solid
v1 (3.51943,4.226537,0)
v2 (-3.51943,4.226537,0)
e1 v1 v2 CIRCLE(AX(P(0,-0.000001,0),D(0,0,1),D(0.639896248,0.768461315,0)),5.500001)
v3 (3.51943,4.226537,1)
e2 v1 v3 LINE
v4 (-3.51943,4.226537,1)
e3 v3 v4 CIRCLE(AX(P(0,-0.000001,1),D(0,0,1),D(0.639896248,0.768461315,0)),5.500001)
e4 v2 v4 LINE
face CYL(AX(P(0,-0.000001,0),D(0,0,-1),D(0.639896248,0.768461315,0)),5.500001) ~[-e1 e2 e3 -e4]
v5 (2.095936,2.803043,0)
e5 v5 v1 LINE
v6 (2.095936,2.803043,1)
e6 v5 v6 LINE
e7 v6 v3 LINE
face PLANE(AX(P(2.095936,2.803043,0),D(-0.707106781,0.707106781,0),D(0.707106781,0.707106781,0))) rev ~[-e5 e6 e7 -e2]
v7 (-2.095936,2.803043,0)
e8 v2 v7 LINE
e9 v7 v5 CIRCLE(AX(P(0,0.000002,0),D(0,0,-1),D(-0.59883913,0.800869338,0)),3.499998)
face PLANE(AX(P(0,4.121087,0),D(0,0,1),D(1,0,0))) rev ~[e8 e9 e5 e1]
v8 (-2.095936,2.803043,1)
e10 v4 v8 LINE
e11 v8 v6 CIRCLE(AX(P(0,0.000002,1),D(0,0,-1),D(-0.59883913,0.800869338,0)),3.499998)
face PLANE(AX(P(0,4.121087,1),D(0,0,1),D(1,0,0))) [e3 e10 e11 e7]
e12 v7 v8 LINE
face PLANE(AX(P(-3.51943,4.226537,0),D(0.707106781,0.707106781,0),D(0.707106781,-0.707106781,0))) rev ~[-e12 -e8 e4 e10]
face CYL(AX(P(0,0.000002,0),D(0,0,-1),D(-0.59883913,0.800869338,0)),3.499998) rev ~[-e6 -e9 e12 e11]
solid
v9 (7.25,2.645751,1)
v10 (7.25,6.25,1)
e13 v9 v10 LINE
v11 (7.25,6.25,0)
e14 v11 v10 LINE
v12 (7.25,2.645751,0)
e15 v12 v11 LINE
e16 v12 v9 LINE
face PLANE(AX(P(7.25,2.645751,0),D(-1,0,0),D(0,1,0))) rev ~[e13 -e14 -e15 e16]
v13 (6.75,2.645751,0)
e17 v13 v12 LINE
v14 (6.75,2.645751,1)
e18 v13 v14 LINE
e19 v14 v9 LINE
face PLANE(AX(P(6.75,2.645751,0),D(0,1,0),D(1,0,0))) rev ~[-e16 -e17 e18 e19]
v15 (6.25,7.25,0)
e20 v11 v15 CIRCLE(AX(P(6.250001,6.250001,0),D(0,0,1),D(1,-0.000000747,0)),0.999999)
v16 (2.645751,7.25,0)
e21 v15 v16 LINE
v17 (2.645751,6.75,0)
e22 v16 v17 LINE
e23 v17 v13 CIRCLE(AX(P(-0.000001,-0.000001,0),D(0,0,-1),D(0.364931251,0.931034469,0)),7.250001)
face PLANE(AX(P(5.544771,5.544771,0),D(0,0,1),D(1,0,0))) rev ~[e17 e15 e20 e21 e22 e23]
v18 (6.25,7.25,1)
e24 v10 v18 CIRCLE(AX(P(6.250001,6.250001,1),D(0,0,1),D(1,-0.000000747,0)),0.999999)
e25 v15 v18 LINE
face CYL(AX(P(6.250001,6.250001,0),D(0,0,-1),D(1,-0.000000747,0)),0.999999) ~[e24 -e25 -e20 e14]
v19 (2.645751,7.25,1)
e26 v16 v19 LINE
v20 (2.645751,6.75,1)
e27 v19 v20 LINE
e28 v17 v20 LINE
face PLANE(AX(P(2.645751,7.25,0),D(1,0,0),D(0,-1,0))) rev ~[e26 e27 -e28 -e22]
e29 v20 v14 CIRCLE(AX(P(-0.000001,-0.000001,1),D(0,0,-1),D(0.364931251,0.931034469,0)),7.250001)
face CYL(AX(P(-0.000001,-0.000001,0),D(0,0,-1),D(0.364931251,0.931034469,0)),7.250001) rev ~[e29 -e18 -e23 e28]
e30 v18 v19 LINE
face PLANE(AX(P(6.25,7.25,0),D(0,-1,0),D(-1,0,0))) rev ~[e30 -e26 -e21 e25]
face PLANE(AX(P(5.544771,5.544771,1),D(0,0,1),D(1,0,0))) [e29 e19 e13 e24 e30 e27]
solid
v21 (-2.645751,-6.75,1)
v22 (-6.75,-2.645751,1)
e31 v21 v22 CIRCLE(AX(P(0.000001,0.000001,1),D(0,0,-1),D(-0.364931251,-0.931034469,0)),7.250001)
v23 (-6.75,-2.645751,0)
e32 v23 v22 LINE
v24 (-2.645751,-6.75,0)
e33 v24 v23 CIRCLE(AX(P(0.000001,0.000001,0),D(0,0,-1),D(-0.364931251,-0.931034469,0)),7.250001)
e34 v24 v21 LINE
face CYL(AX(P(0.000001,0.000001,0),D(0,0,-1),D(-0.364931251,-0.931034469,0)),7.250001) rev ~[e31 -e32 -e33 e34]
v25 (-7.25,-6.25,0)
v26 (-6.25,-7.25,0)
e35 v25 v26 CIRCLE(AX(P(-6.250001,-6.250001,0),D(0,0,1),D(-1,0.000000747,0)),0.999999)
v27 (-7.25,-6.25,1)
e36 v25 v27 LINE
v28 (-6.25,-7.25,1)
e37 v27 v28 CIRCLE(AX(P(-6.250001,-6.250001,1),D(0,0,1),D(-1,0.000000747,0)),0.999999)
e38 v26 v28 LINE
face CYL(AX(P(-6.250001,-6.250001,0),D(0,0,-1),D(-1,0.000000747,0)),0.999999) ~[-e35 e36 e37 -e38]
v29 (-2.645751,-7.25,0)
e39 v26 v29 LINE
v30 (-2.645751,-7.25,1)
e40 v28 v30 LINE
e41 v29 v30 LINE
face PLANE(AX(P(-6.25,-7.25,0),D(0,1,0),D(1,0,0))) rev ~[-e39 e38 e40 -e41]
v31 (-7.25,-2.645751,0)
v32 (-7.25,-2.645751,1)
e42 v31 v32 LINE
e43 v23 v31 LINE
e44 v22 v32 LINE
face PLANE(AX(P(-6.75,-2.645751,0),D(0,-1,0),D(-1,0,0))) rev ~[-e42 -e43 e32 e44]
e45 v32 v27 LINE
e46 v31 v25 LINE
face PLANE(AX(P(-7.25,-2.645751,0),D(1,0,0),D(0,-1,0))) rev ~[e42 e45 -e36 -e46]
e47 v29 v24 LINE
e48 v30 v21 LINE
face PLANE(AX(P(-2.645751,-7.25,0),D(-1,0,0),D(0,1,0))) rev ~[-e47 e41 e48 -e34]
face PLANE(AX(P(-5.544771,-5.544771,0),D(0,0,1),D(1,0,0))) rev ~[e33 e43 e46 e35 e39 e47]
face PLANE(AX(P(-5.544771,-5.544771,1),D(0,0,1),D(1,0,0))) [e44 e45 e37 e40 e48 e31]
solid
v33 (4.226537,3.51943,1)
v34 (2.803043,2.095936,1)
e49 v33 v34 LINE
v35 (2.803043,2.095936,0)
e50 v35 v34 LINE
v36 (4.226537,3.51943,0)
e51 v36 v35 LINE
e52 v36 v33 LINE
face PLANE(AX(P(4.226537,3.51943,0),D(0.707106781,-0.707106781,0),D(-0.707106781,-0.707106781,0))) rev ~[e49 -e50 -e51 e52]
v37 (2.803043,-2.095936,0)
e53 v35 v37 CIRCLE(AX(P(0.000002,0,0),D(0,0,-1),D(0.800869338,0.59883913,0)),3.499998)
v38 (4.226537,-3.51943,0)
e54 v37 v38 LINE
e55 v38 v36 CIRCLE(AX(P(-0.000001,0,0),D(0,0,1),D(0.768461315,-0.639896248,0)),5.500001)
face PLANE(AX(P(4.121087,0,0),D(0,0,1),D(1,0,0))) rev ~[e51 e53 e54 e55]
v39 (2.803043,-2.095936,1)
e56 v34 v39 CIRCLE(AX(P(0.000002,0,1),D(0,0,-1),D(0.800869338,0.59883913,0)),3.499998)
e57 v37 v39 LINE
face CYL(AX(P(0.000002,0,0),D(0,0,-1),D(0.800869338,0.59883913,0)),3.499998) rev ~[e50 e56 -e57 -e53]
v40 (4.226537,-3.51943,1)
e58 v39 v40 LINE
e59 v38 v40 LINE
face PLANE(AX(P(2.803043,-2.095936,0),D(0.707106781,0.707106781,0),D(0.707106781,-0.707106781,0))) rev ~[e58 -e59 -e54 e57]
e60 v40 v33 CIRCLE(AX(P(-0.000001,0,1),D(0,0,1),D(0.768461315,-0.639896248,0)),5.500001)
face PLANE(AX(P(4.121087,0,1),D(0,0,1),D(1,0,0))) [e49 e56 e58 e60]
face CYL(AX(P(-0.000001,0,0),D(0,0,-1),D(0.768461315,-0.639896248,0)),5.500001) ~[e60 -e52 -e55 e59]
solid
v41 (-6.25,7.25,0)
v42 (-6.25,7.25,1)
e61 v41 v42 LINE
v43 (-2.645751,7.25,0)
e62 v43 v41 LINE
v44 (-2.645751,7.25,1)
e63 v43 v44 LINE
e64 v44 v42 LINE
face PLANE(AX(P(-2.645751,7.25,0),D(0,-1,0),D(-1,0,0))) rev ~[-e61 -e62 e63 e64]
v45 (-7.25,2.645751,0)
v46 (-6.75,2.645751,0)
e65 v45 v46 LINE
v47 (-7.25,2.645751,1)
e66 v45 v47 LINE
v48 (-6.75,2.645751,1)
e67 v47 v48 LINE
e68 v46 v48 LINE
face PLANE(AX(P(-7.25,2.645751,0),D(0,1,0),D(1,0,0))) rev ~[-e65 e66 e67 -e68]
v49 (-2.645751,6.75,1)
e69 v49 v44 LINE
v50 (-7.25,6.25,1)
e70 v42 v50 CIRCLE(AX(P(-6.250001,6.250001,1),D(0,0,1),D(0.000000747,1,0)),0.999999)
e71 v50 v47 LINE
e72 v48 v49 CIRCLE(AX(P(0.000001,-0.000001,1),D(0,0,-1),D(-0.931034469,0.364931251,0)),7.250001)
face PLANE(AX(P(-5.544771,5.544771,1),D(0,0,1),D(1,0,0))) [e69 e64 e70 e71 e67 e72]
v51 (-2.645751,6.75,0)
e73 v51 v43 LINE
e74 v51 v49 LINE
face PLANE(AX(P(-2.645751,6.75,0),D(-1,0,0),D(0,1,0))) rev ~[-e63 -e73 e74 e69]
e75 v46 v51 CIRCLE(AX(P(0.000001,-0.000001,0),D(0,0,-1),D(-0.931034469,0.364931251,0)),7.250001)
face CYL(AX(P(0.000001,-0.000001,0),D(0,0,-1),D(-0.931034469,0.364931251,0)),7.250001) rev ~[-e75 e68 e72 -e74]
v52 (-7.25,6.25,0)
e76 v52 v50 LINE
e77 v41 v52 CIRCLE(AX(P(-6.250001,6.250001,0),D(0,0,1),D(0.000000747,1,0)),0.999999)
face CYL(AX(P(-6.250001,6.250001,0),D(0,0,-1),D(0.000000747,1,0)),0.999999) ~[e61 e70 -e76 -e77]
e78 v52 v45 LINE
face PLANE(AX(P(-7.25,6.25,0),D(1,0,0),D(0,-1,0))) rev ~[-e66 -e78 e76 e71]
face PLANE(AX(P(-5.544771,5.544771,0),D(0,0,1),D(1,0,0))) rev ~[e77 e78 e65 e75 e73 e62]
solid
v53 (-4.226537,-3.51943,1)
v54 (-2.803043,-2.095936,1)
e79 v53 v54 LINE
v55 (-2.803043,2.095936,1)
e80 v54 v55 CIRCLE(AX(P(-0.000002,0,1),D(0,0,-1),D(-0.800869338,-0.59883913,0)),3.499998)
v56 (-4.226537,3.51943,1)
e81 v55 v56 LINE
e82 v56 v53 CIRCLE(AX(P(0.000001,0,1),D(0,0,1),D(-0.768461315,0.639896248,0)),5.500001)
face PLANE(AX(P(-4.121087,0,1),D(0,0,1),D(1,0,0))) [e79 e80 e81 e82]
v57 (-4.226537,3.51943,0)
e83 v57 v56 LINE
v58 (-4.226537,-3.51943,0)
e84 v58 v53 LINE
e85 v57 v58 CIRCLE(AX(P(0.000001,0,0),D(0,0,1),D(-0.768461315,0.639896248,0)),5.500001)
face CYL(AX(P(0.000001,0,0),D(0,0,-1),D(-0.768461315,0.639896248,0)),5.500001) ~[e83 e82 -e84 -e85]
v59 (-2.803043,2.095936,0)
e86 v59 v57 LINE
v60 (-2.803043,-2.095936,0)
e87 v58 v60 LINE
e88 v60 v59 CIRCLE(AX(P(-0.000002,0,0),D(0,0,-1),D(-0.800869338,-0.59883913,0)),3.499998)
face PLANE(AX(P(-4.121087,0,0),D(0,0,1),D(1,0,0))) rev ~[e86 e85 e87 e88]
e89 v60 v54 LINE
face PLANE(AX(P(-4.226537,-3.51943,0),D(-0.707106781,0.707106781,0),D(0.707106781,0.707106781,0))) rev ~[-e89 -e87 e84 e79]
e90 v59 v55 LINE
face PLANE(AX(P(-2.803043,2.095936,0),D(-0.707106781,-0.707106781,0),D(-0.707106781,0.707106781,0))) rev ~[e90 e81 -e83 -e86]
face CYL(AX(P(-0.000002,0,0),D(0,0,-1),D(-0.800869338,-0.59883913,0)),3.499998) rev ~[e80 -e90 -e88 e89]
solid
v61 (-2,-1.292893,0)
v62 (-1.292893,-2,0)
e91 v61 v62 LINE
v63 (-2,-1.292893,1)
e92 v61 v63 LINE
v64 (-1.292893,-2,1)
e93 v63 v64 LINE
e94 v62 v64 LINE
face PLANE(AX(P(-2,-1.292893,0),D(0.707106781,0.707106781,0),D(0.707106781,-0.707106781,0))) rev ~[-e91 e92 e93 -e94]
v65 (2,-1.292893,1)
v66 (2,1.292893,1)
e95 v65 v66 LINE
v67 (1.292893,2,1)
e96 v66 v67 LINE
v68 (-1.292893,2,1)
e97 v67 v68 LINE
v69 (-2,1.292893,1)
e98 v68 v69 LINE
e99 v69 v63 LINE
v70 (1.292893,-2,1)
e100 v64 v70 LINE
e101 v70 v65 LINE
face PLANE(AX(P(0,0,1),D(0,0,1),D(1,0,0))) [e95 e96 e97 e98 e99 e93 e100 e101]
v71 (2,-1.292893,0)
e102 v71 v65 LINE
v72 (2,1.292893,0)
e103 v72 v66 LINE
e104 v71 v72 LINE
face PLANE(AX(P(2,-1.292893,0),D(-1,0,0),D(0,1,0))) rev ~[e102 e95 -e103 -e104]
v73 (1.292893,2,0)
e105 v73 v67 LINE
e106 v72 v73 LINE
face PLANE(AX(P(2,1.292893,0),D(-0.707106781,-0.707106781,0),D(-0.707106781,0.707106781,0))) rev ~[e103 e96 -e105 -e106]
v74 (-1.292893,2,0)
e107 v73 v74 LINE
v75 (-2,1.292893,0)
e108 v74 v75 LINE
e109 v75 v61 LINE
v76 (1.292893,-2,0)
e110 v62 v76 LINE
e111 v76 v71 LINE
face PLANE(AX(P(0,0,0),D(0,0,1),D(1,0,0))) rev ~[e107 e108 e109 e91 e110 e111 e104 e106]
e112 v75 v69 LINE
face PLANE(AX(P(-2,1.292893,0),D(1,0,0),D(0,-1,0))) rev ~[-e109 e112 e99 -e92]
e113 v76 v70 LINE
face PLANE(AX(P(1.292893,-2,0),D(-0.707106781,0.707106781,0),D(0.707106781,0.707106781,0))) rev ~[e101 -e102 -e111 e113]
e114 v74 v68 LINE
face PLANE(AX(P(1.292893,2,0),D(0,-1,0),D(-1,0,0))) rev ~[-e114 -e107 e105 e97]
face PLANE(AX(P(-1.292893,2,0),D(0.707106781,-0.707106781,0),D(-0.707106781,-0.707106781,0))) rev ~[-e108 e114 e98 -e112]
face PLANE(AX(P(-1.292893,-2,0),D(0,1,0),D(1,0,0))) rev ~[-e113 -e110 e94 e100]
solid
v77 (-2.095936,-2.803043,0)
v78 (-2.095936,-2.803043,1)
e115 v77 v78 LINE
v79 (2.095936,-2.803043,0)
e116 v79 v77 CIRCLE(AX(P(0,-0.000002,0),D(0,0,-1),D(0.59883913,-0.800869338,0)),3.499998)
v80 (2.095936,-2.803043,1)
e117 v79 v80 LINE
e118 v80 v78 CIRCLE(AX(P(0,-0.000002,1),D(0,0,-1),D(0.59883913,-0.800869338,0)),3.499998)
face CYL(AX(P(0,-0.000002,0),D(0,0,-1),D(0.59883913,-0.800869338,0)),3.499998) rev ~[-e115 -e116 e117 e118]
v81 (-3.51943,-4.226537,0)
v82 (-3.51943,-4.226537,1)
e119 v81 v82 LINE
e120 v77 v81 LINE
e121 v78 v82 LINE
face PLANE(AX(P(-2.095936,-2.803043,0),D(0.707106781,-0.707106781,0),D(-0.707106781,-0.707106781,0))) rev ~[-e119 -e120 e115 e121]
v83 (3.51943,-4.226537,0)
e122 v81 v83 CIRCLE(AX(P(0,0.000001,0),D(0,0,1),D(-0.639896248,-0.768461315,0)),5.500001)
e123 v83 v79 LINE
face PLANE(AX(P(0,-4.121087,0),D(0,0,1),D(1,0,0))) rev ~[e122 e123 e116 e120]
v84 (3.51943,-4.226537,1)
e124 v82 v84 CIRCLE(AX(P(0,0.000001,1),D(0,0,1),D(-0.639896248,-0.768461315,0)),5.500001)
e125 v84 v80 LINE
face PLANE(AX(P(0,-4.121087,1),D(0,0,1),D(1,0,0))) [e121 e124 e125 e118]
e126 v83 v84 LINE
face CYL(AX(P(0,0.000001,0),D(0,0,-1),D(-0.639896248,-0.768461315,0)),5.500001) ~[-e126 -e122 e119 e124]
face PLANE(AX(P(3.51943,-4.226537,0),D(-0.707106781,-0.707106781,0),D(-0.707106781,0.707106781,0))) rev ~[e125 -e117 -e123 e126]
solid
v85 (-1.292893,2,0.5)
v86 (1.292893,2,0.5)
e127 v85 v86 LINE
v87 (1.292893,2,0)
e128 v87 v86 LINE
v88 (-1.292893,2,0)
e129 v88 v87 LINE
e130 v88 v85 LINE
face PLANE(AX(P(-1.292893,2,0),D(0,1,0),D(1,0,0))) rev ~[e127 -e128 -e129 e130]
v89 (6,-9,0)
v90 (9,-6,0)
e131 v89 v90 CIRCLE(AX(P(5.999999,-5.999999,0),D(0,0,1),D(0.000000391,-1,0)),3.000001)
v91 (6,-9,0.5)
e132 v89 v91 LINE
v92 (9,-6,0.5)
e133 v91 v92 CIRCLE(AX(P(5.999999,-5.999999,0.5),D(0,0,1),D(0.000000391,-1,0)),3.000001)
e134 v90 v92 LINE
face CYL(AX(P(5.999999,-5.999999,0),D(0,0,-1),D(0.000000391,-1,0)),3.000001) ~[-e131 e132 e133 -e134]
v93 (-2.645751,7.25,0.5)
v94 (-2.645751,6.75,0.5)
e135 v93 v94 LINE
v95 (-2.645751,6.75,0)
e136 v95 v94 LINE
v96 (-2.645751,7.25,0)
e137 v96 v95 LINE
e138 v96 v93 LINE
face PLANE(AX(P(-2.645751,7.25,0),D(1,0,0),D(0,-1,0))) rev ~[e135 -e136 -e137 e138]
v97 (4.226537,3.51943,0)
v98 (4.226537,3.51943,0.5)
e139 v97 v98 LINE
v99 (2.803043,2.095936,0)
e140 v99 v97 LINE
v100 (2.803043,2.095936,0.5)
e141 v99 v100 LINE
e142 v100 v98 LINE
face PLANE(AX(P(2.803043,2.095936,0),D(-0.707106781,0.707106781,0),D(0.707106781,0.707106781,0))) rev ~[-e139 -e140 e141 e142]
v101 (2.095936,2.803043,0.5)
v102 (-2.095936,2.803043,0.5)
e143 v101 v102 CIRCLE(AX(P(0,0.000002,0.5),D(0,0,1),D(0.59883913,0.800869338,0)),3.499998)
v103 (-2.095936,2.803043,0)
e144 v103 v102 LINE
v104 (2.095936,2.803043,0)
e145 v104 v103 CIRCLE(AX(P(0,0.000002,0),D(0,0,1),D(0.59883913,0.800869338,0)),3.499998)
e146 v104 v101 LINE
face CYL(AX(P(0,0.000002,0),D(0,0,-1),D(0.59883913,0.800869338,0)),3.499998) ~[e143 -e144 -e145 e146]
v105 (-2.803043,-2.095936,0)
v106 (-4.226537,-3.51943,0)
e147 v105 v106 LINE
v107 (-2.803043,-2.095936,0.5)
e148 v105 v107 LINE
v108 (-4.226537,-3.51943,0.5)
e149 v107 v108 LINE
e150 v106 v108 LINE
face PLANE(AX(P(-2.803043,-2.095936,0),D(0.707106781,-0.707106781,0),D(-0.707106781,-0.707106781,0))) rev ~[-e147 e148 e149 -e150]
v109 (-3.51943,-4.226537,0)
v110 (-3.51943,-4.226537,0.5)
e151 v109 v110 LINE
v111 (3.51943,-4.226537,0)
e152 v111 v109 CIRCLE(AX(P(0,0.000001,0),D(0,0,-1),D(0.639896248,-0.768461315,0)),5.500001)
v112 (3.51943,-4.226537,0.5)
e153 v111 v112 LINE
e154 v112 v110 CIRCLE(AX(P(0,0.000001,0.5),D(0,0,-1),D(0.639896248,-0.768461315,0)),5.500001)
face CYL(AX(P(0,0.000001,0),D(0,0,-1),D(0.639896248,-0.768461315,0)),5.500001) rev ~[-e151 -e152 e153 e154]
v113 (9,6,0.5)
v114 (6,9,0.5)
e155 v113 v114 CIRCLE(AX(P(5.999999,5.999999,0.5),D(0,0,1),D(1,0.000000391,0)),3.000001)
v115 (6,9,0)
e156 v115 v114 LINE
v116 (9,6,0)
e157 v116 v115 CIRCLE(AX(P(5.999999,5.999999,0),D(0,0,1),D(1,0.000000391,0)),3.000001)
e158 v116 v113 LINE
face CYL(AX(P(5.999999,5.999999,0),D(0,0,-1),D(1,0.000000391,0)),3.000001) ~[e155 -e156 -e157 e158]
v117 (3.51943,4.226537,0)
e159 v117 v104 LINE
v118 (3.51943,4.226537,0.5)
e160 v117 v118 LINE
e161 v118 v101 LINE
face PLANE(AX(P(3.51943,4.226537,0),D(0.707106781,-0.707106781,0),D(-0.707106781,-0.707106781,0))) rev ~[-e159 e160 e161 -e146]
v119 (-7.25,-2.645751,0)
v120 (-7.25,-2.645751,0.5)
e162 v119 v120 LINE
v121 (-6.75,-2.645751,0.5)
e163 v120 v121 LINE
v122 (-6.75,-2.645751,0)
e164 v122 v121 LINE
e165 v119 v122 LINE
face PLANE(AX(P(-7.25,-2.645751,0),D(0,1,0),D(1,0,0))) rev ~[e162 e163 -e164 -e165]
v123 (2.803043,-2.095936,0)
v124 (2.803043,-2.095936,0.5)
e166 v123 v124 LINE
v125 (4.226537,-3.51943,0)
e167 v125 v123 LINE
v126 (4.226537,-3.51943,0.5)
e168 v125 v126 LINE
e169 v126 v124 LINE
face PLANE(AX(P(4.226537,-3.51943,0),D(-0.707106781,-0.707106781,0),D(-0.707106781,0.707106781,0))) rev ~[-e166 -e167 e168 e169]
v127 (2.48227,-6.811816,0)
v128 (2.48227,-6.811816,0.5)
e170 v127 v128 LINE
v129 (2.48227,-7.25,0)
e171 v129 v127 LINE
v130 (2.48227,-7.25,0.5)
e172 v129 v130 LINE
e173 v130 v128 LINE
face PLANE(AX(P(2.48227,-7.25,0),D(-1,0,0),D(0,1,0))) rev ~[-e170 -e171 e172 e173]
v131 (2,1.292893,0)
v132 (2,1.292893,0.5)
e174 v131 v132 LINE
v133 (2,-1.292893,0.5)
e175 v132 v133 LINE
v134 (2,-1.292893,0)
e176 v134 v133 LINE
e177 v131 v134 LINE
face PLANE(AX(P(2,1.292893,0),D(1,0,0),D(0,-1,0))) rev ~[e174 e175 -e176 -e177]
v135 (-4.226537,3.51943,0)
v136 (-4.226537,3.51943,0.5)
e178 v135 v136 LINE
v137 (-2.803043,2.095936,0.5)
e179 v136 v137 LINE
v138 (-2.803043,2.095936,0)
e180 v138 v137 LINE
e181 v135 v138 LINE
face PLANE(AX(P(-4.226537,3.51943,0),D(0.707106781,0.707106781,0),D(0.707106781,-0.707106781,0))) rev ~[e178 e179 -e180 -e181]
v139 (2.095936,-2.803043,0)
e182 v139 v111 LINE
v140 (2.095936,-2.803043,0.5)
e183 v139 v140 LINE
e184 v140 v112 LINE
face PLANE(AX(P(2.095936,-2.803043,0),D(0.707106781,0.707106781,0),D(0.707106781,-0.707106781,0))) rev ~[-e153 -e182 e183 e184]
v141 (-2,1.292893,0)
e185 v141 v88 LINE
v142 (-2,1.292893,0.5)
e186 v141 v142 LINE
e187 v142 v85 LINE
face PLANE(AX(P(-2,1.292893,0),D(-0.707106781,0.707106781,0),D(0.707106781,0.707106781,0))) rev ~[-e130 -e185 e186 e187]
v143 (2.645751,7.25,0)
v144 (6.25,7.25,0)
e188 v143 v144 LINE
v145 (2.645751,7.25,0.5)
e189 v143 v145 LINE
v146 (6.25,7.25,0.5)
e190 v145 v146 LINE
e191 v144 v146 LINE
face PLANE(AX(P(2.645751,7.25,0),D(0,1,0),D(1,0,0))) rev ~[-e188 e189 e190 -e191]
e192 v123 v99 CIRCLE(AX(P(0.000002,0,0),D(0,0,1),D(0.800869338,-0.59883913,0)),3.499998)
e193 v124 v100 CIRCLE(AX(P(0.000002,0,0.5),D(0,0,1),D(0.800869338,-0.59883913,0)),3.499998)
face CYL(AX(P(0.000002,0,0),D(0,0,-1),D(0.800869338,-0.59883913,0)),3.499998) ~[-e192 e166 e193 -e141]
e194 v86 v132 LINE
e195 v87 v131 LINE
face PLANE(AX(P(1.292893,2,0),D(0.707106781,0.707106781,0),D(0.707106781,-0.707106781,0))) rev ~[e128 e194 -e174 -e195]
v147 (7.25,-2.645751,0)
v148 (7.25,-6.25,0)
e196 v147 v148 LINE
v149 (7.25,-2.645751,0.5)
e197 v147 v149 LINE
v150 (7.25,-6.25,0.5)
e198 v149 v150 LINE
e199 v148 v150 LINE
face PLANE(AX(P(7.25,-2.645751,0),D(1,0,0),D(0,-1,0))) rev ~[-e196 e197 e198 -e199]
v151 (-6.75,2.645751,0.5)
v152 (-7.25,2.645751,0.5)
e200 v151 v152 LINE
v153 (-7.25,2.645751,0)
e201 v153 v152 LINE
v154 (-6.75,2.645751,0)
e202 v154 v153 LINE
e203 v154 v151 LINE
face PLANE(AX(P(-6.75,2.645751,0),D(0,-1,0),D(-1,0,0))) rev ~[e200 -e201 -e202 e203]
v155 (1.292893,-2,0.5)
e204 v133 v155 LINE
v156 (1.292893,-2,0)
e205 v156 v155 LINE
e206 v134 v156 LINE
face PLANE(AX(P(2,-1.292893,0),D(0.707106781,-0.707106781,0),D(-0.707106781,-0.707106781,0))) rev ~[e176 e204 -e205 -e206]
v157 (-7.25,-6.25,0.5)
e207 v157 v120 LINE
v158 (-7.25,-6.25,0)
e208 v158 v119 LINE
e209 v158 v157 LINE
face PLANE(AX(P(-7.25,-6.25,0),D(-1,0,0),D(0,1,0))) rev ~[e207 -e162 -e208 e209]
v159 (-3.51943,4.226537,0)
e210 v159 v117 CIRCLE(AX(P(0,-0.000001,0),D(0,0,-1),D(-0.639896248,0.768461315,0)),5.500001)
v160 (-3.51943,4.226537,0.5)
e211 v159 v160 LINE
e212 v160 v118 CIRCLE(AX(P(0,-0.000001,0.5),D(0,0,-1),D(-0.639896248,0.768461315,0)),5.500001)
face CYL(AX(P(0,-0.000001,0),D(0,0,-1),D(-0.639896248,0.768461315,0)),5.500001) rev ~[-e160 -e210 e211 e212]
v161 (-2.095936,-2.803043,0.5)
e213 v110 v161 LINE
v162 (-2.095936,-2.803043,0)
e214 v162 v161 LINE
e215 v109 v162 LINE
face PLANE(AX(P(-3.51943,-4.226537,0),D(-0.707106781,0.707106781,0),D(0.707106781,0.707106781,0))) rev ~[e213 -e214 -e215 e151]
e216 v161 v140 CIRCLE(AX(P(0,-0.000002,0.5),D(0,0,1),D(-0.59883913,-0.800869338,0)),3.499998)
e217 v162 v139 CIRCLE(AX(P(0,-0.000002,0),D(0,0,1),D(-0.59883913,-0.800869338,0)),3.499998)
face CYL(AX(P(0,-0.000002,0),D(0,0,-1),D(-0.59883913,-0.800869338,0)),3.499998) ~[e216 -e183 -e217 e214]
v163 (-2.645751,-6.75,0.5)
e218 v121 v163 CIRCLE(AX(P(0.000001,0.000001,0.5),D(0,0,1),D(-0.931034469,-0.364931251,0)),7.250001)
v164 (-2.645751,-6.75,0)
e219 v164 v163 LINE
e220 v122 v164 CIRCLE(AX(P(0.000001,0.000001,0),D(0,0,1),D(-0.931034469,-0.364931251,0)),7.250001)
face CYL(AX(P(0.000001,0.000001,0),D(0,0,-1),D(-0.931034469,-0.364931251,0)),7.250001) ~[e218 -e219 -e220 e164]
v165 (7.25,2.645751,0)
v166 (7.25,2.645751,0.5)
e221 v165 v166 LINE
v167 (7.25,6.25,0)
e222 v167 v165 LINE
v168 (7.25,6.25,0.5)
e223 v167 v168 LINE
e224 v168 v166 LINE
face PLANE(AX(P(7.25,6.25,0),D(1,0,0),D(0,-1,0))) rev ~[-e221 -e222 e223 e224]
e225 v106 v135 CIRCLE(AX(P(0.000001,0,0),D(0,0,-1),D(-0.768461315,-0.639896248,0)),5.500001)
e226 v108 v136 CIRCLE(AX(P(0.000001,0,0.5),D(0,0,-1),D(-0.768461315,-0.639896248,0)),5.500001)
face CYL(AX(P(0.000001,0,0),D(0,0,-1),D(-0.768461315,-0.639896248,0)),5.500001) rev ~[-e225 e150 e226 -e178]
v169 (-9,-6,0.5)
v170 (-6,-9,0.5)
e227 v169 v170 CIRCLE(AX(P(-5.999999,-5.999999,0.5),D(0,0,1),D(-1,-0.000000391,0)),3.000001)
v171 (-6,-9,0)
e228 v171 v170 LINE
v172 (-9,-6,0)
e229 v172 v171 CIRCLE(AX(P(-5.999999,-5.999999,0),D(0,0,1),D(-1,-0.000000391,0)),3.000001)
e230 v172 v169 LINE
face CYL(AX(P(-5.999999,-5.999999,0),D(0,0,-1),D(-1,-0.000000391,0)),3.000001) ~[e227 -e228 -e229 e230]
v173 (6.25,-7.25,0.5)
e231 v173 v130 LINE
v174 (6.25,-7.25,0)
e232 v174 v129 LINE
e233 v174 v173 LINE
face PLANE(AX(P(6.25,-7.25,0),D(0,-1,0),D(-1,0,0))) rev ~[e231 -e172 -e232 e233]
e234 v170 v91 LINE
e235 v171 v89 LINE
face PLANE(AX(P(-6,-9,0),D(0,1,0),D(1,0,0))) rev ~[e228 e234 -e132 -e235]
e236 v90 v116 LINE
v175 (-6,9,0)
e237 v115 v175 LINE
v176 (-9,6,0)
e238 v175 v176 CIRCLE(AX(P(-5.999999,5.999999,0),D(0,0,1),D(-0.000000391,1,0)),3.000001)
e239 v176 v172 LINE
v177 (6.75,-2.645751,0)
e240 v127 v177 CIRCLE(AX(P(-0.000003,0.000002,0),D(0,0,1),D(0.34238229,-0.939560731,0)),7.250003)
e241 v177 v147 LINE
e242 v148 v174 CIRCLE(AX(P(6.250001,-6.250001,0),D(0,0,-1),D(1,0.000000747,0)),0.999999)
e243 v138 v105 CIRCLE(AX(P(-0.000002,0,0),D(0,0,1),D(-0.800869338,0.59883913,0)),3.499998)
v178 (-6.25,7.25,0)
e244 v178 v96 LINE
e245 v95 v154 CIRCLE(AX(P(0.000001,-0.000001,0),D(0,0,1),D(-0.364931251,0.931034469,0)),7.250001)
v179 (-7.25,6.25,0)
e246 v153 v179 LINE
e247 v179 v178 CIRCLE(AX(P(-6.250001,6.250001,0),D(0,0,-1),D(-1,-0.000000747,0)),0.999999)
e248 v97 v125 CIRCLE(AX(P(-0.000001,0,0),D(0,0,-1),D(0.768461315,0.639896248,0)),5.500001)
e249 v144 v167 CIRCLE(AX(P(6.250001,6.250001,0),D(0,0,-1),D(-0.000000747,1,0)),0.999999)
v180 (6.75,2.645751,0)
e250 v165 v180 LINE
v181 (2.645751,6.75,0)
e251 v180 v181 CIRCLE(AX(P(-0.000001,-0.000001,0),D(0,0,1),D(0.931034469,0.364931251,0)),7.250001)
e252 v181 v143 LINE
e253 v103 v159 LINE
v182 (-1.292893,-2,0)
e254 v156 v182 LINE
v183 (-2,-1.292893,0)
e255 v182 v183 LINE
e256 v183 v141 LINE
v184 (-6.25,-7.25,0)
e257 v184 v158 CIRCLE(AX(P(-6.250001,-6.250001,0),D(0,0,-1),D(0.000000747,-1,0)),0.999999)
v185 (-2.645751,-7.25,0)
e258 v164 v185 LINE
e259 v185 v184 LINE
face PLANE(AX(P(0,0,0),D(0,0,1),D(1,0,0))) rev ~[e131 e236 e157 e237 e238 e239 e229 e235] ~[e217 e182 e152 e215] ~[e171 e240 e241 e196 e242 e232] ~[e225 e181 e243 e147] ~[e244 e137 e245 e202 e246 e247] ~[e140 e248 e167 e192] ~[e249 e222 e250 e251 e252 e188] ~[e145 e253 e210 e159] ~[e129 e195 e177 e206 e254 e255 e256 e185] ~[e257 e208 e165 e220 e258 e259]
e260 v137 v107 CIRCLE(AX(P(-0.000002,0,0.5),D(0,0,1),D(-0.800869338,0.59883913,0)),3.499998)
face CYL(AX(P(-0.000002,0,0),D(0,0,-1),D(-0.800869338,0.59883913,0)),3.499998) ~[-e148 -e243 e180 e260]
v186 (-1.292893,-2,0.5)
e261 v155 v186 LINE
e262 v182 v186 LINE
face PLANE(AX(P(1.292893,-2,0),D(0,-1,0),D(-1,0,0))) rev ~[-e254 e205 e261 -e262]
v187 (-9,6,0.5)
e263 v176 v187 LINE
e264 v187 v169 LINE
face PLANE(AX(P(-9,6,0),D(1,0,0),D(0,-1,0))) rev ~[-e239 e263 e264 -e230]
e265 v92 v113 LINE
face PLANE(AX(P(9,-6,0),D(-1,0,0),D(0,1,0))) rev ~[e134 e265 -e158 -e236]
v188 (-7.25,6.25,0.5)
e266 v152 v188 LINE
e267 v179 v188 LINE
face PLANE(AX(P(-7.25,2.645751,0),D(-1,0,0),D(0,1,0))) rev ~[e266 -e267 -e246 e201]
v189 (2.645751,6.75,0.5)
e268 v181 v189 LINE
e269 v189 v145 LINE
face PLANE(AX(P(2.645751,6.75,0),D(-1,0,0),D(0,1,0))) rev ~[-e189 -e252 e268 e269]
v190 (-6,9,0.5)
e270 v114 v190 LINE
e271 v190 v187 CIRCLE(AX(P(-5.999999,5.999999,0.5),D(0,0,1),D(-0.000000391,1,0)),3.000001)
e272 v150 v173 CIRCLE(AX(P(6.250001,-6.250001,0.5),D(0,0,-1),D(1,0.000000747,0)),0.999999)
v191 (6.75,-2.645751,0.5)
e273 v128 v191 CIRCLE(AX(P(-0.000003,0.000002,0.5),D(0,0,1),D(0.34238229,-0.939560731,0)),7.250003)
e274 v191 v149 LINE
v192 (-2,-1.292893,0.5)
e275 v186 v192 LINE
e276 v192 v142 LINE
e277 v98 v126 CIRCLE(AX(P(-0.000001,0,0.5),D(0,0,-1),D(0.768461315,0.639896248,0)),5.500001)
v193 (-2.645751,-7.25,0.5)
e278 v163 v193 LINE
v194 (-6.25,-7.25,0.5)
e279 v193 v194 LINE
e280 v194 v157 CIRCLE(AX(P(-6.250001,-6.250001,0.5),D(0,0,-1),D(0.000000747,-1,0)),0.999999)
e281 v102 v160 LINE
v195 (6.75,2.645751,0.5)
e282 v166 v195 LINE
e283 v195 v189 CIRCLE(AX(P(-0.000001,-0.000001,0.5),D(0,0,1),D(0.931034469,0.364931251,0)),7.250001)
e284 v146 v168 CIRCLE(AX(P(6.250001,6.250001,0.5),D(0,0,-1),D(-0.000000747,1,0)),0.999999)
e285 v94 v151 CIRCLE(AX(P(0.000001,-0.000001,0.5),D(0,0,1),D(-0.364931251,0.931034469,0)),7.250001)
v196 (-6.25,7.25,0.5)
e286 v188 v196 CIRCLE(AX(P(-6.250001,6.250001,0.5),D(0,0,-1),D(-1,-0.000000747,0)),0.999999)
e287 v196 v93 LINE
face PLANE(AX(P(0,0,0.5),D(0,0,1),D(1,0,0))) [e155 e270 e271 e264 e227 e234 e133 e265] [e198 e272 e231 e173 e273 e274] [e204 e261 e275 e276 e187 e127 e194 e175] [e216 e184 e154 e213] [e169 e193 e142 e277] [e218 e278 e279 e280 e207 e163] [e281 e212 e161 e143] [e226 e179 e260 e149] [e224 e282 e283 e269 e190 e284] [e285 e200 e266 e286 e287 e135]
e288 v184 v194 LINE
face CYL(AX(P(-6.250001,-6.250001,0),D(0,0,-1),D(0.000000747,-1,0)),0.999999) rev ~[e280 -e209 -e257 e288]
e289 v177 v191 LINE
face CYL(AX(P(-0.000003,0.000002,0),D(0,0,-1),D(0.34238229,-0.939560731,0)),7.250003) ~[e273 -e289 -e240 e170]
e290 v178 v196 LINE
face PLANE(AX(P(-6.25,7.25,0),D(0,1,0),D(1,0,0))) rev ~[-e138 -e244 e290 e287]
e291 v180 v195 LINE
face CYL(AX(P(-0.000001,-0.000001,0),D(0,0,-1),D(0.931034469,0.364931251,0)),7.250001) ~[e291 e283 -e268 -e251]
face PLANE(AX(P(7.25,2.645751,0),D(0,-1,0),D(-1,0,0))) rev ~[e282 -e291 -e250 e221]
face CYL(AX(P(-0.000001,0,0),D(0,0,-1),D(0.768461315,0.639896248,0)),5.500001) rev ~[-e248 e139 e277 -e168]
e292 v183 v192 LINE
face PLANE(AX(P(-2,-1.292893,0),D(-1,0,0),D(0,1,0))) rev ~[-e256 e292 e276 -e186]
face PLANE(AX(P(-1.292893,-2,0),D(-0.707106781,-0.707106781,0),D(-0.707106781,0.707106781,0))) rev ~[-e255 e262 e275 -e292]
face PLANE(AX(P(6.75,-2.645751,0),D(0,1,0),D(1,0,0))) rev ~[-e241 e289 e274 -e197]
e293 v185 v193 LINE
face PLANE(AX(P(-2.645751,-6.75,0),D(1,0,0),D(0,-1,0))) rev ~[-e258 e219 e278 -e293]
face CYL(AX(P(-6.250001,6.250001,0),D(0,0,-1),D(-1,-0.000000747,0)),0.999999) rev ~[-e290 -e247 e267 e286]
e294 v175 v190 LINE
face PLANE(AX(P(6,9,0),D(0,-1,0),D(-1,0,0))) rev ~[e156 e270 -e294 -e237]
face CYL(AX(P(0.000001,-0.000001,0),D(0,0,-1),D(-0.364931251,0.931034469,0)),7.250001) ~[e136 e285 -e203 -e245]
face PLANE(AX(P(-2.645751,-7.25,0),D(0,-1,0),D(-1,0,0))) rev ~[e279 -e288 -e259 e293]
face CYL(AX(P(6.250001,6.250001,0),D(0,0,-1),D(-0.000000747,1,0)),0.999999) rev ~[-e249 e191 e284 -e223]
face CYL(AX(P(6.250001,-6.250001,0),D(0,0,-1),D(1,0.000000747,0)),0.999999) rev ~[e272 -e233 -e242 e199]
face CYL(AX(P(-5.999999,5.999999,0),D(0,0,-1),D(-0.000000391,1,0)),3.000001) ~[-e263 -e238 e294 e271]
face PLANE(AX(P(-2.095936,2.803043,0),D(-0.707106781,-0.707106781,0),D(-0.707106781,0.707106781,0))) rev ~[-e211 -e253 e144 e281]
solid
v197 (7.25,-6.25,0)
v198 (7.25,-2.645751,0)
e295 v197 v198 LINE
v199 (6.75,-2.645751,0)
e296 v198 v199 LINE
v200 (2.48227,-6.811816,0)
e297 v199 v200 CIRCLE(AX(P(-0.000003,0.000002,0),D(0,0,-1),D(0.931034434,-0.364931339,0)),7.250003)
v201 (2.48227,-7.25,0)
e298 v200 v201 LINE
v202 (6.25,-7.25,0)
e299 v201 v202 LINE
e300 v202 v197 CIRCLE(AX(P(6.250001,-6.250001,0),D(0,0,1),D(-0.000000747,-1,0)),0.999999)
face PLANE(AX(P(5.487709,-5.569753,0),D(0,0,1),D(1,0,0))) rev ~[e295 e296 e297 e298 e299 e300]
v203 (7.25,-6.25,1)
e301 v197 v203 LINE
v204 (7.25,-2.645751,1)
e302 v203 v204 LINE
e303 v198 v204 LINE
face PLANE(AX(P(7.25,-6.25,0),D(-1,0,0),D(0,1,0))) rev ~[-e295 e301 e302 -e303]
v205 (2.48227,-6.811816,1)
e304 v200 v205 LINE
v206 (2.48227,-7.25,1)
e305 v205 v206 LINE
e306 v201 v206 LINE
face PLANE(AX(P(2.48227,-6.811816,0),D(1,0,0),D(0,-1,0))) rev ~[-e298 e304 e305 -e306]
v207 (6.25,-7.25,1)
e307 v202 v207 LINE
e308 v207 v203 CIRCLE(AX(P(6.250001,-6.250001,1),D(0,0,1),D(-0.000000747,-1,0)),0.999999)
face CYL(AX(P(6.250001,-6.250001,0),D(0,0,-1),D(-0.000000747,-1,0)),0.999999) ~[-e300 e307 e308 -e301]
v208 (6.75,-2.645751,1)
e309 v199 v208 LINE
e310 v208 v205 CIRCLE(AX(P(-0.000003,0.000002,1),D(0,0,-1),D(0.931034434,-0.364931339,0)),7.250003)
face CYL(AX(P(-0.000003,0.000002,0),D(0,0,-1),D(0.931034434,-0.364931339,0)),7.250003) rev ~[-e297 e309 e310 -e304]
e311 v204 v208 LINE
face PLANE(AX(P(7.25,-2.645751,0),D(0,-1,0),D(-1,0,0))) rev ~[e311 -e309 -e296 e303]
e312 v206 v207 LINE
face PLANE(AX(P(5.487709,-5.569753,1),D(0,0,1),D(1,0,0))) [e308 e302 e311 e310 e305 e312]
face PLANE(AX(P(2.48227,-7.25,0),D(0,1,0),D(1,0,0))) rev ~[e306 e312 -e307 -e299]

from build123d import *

# Parameters (mm, degrees)
F1_DEPTH = 1
F2_DEPTH = 0.5


with BuildPart() as f1:
    # F0 (on Top) → F1 (new body)
    with BuildSketch(Plane.XY):
        with BuildLine():
            Line((-2.645751, 6.75), (-2.645751, 7.25))
            Line((-2.645751, 7.25), (-6.25, 7.25))
            ThreePointArc((-6.25, 7.25), (-6.957107, 6.957107), (-7.25, 6.25))
            Line((-7.25, 6.25), (-7.25, 2.645751))
            Line((-7.25, 2.645751), (-6.75, 2.645751))
            ThreePointArc((-6.75, 2.645751), (-5.126524, 5.126524), (-2.645751, 6.75))
        make_face()
        with BuildLine():
            ThreePointArc((7.25, 6.25), (6.957107, 6.957107), (6.25, 7.25))
            Line((6.25, 7.25), (2.645751, 7.25))
            Line((2.645751, 7.25), (2.645751, 6.75))
            ThreePointArc((2.645751, 6.75), (5.126524, 5.126524), (6.75, 2.645751))
            Line((6.75, 2.645751), (7.25, 2.645751))
            Line((7.25, 2.645751), (7.25, 6.25))
        make_face()
        with BuildLine():
            Line((2.48227, -7.25), (6.25, -7.25))
            ThreePointArc((6.25, -7.25), (6.957107, -6.957107), (7.25, -6.25))
            Line((7.25, -6.25), (7.25, -2.645751))
            Line((7.25, -2.645751), (6.75, -2.645751))
            ThreePointArc((6.75, -2.645751), (5.064358, -5.187945), (2.48227, -6.811816))
            Line((2.48227, -6.811816), (2.48227, -7.25))
        make_face()
        with BuildLine():
            ThreePointArc((-2.645751, -6.75), (-5.126524, -5.126524), (-6.75, -2.645751))
            Line((-6.75, -2.645751), (-7.25, -2.645751))
            Line((-7.25, -2.645751), (-7.25, -6.25))
            ThreePointArc((-7.25, -6.25), (-6.957107, -6.957107), (-6.25, -7.25))
            Line((-6.25, -7.25), (-2.645751, -7.25))
            Line((-2.645751, -7.25), (-2.645751, -6.75))
        make_face()
        with BuildLine():
            ThreePointArc((-2.803043, -2.095936), (-3.5, 0), (-2.803043, 2.095936))
            Line((-2.803043, 2.095936), (-4.226537, 3.51943))
            ThreePointArc((-4.226537, 3.51943), (-5.5, 0), (-4.226537, -3.51943))
            Line((-4.226537, -3.51943), (-2.803043, -2.095936))
        make_face()
        with BuildLine():
            Line((-3.51943, 4.226537), (-2.095936, 2.803043))
            ThreePointArc((-2.095936, 2.803043), (0, 3.5), (2.095936, 2.803043))
            Line((2.095936, 2.803043), (3.51943, 4.226537))
            ThreePointArc((3.51943, 4.226537), (0, 5.5), (-3.51943, 4.226537))
        make_face()
        with BuildLine():
            Line((4.226537, 3.51943), (2.803043, 2.095936))
            ThreePointArc((2.803043, 2.095936), (3.5, 0), (2.803043, -2.095936))
            Line((2.803043, -2.095936), (4.226537, -3.51943))
            ThreePointArc((4.226537, -3.51943), (5.5, 0), (4.226537, 3.51943))
        make_face()
        with BuildLine():
            Line((-2.095936, -2.803043), (-3.51943, -4.226537))
            ThreePointArc((-3.51943, -4.226537), (0, -5.5), (3.51943, -4.226537))
            Line((3.51943, -4.226537), (2.095936, -2.803043))
            ThreePointArc((2.095936, -2.803043), (0, -3.5), (-2.095936, -2.803043))
        make_face()
        Polygon((-1.292893, -2), (1.292893, -2), (2, -1.292893), (2, 1.292893), (1.292893, 2), (-1.292893, 2), (-2, 1.292893), (-2, -1.292893), align=None)
    extrude(amount=F1_DEPTH)


with BuildPart() as f2:
    # F0 (on Top) → F2 (new body)
    with BuildSketch(Plane.XY):
        with BuildLine():
            Line((-6, -9), (6, -9))
            ThreePointArc((6, -9), (8.12132, -8.12132), (9, -6))
            Line((9, -6), (9, 6))
            ThreePointArc((9, 6), (8.12132, 8.12132), (6, 9))
            Line((6, 9), (-6, 9))
            ThreePointArc((-6, 9), (-8.12132, 8.12132), (-9, 6))
            Line((-9, 6), (-9, -6))
            ThreePointArc((-9, -6), (-8.12132, -8.12132), (-6, -9))
        make_face()
        with BuildLine():
            Line((-7.25, -2.645751), (-6.75, -2.645751))
            ThreePointArc((-6.75, -2.645751), (-5.126524, -5.126524), (-2.645751, -6.75))
            Line((-2.645751, -6.75), (-2.645751, -7.25))
            Line((-2.645751, -7.25), (-6.25, -7.25))
            ThreePointArc((-6.25, -7.25), (-6.957107, -6.957107), (-7.25, -6.25))
            Line((-7.25, -6.25), (-7.25, -2.645751))
        make_face(mode=Mode.SUBTRACT)
        with BuildLine():
            ThreePointArc((7.25, -6.25), (6.957107, -6.957107), (6.25, -7.25))
            Line((6.25, -7.25), (2.48227, -7.25))
            Line((2.48227, -7.25), (2.48227, -6.811816))
            ThreePointArc((2.48227, -6.811816), (5.064358, -5.187945), (6.75, -2.645751))
            Line((6.75, -2.645751), (7.25, -2.645751))
            Line((7.25, -2.645751), (7.25, -6.25))
        make_face(mode=Mode.SUBTRACT)
        with BuildLine():
            ThreePointArc((3.51943, -4.226537), (0, -5.5), (-3.51943, -4.226537))
            Line((-3.51943, -4.226537), (-2.095936, -2.803043))
            ThreePointArc((-2.095936, -2.803043), (0, -3.5), (2.095936, -2.803043))
            Line((2.095936, -2.803043), (3.51943, -4.226537))
        make_face(mode=Mode.SUBTRACT)
        with BuildLine():
            Line((-4.226537, 3.51943), (-2.803043, 2.095936))
            ThreePointArc((-2.803043, 2.095936), (-3.5, 0), (-2.803043, -2.095936))
            Line((-2.803043, -2.095936), (-4.226537, -3.51943))
            ThreePointArc((-4.226537, -3.51943), (-5.5, 0), (-4.226537, 3.51943))
        make_face(mode=Mode.SUBTRACT)
        with BuildLine():
            Line((-6.25, 7.25), (-2.645751, 7.25))
            Line((-2.645751, 7.25), (-2.645751, 6.75))
            ThreePointArc((-2.645751, 6.75), (-5.126524, 5.126524), (-6.75, 2.645751))
            Line((-6.75, 2.645751), (-7.25, 2.645751))
            Line((-7.25, 2.645751), (-7.25, 6.25))
            ThreePointArc((-7.25, 6.25), (-6.957107, 6.957107), (-6.25, 7.25))
        make_face(mode=Mode.SUBTRACT)
        Polygon((2, -1.292893), (1.292893, -2), (-1.292893, -2), (-2, -1.292893), (-2, 1.292893), (-1.292893, 2), (1.292893, 2), (2, 1.292893), align=None, mode=Mode.SUBTRACT)
        with BuildLine():
            ThreePointArc((2.803043, -2.095936), (3.5, 0), (2.803043, 2.095936))
            Line((2.803043, 2.095936), (4.226537, 3.51943))
            ThreePointArc((4.226537, 3.51943), (5.5, 0), (4.226537, -3.51943))
            Line((4.226537, -3.51943), (2.803043, -2.095936))
        make_face(mode=Mode.SUBTRACT)
        with BuildLine():
            ThreePointArc((2.095936, 2.803043), (0, 3.5), (-2.095936, 2.803043))
            Line((-2.095936, 2.803043), (-3.51943, 4.226537))
            ThreePointArc((-3.51943, 4.226537), (0, 5.5), (3.51943, 4.226537))
            Line((3.51943, 4.226537), (2.095936, 2.803043))
        make_face(mode=Mode.SUBTRACT)
        with BuildLine():
            Line((2.645751, 7.25), (6.25, 7.25))
            ThreePointArc((6.25, 7.25), (6.957107, 6.957107), (7.25, 6.25))
            Line((7.25, 6.25), (7.25, 2.645751))
            Line((7.25, 2.645751), (6.75, 2.645751))
            ThreePointArc((6.75, 2.645751), (5.126524, 5.126524), (2.645751, 6.75))
            Line((2.645751, 6.75), (2.645751, 7.25))
        make_face(mode=Mode.SUBTRACT)
    extrude(amount=F2_DEPTH)


solid = Compound([f1.part, f2.part])
